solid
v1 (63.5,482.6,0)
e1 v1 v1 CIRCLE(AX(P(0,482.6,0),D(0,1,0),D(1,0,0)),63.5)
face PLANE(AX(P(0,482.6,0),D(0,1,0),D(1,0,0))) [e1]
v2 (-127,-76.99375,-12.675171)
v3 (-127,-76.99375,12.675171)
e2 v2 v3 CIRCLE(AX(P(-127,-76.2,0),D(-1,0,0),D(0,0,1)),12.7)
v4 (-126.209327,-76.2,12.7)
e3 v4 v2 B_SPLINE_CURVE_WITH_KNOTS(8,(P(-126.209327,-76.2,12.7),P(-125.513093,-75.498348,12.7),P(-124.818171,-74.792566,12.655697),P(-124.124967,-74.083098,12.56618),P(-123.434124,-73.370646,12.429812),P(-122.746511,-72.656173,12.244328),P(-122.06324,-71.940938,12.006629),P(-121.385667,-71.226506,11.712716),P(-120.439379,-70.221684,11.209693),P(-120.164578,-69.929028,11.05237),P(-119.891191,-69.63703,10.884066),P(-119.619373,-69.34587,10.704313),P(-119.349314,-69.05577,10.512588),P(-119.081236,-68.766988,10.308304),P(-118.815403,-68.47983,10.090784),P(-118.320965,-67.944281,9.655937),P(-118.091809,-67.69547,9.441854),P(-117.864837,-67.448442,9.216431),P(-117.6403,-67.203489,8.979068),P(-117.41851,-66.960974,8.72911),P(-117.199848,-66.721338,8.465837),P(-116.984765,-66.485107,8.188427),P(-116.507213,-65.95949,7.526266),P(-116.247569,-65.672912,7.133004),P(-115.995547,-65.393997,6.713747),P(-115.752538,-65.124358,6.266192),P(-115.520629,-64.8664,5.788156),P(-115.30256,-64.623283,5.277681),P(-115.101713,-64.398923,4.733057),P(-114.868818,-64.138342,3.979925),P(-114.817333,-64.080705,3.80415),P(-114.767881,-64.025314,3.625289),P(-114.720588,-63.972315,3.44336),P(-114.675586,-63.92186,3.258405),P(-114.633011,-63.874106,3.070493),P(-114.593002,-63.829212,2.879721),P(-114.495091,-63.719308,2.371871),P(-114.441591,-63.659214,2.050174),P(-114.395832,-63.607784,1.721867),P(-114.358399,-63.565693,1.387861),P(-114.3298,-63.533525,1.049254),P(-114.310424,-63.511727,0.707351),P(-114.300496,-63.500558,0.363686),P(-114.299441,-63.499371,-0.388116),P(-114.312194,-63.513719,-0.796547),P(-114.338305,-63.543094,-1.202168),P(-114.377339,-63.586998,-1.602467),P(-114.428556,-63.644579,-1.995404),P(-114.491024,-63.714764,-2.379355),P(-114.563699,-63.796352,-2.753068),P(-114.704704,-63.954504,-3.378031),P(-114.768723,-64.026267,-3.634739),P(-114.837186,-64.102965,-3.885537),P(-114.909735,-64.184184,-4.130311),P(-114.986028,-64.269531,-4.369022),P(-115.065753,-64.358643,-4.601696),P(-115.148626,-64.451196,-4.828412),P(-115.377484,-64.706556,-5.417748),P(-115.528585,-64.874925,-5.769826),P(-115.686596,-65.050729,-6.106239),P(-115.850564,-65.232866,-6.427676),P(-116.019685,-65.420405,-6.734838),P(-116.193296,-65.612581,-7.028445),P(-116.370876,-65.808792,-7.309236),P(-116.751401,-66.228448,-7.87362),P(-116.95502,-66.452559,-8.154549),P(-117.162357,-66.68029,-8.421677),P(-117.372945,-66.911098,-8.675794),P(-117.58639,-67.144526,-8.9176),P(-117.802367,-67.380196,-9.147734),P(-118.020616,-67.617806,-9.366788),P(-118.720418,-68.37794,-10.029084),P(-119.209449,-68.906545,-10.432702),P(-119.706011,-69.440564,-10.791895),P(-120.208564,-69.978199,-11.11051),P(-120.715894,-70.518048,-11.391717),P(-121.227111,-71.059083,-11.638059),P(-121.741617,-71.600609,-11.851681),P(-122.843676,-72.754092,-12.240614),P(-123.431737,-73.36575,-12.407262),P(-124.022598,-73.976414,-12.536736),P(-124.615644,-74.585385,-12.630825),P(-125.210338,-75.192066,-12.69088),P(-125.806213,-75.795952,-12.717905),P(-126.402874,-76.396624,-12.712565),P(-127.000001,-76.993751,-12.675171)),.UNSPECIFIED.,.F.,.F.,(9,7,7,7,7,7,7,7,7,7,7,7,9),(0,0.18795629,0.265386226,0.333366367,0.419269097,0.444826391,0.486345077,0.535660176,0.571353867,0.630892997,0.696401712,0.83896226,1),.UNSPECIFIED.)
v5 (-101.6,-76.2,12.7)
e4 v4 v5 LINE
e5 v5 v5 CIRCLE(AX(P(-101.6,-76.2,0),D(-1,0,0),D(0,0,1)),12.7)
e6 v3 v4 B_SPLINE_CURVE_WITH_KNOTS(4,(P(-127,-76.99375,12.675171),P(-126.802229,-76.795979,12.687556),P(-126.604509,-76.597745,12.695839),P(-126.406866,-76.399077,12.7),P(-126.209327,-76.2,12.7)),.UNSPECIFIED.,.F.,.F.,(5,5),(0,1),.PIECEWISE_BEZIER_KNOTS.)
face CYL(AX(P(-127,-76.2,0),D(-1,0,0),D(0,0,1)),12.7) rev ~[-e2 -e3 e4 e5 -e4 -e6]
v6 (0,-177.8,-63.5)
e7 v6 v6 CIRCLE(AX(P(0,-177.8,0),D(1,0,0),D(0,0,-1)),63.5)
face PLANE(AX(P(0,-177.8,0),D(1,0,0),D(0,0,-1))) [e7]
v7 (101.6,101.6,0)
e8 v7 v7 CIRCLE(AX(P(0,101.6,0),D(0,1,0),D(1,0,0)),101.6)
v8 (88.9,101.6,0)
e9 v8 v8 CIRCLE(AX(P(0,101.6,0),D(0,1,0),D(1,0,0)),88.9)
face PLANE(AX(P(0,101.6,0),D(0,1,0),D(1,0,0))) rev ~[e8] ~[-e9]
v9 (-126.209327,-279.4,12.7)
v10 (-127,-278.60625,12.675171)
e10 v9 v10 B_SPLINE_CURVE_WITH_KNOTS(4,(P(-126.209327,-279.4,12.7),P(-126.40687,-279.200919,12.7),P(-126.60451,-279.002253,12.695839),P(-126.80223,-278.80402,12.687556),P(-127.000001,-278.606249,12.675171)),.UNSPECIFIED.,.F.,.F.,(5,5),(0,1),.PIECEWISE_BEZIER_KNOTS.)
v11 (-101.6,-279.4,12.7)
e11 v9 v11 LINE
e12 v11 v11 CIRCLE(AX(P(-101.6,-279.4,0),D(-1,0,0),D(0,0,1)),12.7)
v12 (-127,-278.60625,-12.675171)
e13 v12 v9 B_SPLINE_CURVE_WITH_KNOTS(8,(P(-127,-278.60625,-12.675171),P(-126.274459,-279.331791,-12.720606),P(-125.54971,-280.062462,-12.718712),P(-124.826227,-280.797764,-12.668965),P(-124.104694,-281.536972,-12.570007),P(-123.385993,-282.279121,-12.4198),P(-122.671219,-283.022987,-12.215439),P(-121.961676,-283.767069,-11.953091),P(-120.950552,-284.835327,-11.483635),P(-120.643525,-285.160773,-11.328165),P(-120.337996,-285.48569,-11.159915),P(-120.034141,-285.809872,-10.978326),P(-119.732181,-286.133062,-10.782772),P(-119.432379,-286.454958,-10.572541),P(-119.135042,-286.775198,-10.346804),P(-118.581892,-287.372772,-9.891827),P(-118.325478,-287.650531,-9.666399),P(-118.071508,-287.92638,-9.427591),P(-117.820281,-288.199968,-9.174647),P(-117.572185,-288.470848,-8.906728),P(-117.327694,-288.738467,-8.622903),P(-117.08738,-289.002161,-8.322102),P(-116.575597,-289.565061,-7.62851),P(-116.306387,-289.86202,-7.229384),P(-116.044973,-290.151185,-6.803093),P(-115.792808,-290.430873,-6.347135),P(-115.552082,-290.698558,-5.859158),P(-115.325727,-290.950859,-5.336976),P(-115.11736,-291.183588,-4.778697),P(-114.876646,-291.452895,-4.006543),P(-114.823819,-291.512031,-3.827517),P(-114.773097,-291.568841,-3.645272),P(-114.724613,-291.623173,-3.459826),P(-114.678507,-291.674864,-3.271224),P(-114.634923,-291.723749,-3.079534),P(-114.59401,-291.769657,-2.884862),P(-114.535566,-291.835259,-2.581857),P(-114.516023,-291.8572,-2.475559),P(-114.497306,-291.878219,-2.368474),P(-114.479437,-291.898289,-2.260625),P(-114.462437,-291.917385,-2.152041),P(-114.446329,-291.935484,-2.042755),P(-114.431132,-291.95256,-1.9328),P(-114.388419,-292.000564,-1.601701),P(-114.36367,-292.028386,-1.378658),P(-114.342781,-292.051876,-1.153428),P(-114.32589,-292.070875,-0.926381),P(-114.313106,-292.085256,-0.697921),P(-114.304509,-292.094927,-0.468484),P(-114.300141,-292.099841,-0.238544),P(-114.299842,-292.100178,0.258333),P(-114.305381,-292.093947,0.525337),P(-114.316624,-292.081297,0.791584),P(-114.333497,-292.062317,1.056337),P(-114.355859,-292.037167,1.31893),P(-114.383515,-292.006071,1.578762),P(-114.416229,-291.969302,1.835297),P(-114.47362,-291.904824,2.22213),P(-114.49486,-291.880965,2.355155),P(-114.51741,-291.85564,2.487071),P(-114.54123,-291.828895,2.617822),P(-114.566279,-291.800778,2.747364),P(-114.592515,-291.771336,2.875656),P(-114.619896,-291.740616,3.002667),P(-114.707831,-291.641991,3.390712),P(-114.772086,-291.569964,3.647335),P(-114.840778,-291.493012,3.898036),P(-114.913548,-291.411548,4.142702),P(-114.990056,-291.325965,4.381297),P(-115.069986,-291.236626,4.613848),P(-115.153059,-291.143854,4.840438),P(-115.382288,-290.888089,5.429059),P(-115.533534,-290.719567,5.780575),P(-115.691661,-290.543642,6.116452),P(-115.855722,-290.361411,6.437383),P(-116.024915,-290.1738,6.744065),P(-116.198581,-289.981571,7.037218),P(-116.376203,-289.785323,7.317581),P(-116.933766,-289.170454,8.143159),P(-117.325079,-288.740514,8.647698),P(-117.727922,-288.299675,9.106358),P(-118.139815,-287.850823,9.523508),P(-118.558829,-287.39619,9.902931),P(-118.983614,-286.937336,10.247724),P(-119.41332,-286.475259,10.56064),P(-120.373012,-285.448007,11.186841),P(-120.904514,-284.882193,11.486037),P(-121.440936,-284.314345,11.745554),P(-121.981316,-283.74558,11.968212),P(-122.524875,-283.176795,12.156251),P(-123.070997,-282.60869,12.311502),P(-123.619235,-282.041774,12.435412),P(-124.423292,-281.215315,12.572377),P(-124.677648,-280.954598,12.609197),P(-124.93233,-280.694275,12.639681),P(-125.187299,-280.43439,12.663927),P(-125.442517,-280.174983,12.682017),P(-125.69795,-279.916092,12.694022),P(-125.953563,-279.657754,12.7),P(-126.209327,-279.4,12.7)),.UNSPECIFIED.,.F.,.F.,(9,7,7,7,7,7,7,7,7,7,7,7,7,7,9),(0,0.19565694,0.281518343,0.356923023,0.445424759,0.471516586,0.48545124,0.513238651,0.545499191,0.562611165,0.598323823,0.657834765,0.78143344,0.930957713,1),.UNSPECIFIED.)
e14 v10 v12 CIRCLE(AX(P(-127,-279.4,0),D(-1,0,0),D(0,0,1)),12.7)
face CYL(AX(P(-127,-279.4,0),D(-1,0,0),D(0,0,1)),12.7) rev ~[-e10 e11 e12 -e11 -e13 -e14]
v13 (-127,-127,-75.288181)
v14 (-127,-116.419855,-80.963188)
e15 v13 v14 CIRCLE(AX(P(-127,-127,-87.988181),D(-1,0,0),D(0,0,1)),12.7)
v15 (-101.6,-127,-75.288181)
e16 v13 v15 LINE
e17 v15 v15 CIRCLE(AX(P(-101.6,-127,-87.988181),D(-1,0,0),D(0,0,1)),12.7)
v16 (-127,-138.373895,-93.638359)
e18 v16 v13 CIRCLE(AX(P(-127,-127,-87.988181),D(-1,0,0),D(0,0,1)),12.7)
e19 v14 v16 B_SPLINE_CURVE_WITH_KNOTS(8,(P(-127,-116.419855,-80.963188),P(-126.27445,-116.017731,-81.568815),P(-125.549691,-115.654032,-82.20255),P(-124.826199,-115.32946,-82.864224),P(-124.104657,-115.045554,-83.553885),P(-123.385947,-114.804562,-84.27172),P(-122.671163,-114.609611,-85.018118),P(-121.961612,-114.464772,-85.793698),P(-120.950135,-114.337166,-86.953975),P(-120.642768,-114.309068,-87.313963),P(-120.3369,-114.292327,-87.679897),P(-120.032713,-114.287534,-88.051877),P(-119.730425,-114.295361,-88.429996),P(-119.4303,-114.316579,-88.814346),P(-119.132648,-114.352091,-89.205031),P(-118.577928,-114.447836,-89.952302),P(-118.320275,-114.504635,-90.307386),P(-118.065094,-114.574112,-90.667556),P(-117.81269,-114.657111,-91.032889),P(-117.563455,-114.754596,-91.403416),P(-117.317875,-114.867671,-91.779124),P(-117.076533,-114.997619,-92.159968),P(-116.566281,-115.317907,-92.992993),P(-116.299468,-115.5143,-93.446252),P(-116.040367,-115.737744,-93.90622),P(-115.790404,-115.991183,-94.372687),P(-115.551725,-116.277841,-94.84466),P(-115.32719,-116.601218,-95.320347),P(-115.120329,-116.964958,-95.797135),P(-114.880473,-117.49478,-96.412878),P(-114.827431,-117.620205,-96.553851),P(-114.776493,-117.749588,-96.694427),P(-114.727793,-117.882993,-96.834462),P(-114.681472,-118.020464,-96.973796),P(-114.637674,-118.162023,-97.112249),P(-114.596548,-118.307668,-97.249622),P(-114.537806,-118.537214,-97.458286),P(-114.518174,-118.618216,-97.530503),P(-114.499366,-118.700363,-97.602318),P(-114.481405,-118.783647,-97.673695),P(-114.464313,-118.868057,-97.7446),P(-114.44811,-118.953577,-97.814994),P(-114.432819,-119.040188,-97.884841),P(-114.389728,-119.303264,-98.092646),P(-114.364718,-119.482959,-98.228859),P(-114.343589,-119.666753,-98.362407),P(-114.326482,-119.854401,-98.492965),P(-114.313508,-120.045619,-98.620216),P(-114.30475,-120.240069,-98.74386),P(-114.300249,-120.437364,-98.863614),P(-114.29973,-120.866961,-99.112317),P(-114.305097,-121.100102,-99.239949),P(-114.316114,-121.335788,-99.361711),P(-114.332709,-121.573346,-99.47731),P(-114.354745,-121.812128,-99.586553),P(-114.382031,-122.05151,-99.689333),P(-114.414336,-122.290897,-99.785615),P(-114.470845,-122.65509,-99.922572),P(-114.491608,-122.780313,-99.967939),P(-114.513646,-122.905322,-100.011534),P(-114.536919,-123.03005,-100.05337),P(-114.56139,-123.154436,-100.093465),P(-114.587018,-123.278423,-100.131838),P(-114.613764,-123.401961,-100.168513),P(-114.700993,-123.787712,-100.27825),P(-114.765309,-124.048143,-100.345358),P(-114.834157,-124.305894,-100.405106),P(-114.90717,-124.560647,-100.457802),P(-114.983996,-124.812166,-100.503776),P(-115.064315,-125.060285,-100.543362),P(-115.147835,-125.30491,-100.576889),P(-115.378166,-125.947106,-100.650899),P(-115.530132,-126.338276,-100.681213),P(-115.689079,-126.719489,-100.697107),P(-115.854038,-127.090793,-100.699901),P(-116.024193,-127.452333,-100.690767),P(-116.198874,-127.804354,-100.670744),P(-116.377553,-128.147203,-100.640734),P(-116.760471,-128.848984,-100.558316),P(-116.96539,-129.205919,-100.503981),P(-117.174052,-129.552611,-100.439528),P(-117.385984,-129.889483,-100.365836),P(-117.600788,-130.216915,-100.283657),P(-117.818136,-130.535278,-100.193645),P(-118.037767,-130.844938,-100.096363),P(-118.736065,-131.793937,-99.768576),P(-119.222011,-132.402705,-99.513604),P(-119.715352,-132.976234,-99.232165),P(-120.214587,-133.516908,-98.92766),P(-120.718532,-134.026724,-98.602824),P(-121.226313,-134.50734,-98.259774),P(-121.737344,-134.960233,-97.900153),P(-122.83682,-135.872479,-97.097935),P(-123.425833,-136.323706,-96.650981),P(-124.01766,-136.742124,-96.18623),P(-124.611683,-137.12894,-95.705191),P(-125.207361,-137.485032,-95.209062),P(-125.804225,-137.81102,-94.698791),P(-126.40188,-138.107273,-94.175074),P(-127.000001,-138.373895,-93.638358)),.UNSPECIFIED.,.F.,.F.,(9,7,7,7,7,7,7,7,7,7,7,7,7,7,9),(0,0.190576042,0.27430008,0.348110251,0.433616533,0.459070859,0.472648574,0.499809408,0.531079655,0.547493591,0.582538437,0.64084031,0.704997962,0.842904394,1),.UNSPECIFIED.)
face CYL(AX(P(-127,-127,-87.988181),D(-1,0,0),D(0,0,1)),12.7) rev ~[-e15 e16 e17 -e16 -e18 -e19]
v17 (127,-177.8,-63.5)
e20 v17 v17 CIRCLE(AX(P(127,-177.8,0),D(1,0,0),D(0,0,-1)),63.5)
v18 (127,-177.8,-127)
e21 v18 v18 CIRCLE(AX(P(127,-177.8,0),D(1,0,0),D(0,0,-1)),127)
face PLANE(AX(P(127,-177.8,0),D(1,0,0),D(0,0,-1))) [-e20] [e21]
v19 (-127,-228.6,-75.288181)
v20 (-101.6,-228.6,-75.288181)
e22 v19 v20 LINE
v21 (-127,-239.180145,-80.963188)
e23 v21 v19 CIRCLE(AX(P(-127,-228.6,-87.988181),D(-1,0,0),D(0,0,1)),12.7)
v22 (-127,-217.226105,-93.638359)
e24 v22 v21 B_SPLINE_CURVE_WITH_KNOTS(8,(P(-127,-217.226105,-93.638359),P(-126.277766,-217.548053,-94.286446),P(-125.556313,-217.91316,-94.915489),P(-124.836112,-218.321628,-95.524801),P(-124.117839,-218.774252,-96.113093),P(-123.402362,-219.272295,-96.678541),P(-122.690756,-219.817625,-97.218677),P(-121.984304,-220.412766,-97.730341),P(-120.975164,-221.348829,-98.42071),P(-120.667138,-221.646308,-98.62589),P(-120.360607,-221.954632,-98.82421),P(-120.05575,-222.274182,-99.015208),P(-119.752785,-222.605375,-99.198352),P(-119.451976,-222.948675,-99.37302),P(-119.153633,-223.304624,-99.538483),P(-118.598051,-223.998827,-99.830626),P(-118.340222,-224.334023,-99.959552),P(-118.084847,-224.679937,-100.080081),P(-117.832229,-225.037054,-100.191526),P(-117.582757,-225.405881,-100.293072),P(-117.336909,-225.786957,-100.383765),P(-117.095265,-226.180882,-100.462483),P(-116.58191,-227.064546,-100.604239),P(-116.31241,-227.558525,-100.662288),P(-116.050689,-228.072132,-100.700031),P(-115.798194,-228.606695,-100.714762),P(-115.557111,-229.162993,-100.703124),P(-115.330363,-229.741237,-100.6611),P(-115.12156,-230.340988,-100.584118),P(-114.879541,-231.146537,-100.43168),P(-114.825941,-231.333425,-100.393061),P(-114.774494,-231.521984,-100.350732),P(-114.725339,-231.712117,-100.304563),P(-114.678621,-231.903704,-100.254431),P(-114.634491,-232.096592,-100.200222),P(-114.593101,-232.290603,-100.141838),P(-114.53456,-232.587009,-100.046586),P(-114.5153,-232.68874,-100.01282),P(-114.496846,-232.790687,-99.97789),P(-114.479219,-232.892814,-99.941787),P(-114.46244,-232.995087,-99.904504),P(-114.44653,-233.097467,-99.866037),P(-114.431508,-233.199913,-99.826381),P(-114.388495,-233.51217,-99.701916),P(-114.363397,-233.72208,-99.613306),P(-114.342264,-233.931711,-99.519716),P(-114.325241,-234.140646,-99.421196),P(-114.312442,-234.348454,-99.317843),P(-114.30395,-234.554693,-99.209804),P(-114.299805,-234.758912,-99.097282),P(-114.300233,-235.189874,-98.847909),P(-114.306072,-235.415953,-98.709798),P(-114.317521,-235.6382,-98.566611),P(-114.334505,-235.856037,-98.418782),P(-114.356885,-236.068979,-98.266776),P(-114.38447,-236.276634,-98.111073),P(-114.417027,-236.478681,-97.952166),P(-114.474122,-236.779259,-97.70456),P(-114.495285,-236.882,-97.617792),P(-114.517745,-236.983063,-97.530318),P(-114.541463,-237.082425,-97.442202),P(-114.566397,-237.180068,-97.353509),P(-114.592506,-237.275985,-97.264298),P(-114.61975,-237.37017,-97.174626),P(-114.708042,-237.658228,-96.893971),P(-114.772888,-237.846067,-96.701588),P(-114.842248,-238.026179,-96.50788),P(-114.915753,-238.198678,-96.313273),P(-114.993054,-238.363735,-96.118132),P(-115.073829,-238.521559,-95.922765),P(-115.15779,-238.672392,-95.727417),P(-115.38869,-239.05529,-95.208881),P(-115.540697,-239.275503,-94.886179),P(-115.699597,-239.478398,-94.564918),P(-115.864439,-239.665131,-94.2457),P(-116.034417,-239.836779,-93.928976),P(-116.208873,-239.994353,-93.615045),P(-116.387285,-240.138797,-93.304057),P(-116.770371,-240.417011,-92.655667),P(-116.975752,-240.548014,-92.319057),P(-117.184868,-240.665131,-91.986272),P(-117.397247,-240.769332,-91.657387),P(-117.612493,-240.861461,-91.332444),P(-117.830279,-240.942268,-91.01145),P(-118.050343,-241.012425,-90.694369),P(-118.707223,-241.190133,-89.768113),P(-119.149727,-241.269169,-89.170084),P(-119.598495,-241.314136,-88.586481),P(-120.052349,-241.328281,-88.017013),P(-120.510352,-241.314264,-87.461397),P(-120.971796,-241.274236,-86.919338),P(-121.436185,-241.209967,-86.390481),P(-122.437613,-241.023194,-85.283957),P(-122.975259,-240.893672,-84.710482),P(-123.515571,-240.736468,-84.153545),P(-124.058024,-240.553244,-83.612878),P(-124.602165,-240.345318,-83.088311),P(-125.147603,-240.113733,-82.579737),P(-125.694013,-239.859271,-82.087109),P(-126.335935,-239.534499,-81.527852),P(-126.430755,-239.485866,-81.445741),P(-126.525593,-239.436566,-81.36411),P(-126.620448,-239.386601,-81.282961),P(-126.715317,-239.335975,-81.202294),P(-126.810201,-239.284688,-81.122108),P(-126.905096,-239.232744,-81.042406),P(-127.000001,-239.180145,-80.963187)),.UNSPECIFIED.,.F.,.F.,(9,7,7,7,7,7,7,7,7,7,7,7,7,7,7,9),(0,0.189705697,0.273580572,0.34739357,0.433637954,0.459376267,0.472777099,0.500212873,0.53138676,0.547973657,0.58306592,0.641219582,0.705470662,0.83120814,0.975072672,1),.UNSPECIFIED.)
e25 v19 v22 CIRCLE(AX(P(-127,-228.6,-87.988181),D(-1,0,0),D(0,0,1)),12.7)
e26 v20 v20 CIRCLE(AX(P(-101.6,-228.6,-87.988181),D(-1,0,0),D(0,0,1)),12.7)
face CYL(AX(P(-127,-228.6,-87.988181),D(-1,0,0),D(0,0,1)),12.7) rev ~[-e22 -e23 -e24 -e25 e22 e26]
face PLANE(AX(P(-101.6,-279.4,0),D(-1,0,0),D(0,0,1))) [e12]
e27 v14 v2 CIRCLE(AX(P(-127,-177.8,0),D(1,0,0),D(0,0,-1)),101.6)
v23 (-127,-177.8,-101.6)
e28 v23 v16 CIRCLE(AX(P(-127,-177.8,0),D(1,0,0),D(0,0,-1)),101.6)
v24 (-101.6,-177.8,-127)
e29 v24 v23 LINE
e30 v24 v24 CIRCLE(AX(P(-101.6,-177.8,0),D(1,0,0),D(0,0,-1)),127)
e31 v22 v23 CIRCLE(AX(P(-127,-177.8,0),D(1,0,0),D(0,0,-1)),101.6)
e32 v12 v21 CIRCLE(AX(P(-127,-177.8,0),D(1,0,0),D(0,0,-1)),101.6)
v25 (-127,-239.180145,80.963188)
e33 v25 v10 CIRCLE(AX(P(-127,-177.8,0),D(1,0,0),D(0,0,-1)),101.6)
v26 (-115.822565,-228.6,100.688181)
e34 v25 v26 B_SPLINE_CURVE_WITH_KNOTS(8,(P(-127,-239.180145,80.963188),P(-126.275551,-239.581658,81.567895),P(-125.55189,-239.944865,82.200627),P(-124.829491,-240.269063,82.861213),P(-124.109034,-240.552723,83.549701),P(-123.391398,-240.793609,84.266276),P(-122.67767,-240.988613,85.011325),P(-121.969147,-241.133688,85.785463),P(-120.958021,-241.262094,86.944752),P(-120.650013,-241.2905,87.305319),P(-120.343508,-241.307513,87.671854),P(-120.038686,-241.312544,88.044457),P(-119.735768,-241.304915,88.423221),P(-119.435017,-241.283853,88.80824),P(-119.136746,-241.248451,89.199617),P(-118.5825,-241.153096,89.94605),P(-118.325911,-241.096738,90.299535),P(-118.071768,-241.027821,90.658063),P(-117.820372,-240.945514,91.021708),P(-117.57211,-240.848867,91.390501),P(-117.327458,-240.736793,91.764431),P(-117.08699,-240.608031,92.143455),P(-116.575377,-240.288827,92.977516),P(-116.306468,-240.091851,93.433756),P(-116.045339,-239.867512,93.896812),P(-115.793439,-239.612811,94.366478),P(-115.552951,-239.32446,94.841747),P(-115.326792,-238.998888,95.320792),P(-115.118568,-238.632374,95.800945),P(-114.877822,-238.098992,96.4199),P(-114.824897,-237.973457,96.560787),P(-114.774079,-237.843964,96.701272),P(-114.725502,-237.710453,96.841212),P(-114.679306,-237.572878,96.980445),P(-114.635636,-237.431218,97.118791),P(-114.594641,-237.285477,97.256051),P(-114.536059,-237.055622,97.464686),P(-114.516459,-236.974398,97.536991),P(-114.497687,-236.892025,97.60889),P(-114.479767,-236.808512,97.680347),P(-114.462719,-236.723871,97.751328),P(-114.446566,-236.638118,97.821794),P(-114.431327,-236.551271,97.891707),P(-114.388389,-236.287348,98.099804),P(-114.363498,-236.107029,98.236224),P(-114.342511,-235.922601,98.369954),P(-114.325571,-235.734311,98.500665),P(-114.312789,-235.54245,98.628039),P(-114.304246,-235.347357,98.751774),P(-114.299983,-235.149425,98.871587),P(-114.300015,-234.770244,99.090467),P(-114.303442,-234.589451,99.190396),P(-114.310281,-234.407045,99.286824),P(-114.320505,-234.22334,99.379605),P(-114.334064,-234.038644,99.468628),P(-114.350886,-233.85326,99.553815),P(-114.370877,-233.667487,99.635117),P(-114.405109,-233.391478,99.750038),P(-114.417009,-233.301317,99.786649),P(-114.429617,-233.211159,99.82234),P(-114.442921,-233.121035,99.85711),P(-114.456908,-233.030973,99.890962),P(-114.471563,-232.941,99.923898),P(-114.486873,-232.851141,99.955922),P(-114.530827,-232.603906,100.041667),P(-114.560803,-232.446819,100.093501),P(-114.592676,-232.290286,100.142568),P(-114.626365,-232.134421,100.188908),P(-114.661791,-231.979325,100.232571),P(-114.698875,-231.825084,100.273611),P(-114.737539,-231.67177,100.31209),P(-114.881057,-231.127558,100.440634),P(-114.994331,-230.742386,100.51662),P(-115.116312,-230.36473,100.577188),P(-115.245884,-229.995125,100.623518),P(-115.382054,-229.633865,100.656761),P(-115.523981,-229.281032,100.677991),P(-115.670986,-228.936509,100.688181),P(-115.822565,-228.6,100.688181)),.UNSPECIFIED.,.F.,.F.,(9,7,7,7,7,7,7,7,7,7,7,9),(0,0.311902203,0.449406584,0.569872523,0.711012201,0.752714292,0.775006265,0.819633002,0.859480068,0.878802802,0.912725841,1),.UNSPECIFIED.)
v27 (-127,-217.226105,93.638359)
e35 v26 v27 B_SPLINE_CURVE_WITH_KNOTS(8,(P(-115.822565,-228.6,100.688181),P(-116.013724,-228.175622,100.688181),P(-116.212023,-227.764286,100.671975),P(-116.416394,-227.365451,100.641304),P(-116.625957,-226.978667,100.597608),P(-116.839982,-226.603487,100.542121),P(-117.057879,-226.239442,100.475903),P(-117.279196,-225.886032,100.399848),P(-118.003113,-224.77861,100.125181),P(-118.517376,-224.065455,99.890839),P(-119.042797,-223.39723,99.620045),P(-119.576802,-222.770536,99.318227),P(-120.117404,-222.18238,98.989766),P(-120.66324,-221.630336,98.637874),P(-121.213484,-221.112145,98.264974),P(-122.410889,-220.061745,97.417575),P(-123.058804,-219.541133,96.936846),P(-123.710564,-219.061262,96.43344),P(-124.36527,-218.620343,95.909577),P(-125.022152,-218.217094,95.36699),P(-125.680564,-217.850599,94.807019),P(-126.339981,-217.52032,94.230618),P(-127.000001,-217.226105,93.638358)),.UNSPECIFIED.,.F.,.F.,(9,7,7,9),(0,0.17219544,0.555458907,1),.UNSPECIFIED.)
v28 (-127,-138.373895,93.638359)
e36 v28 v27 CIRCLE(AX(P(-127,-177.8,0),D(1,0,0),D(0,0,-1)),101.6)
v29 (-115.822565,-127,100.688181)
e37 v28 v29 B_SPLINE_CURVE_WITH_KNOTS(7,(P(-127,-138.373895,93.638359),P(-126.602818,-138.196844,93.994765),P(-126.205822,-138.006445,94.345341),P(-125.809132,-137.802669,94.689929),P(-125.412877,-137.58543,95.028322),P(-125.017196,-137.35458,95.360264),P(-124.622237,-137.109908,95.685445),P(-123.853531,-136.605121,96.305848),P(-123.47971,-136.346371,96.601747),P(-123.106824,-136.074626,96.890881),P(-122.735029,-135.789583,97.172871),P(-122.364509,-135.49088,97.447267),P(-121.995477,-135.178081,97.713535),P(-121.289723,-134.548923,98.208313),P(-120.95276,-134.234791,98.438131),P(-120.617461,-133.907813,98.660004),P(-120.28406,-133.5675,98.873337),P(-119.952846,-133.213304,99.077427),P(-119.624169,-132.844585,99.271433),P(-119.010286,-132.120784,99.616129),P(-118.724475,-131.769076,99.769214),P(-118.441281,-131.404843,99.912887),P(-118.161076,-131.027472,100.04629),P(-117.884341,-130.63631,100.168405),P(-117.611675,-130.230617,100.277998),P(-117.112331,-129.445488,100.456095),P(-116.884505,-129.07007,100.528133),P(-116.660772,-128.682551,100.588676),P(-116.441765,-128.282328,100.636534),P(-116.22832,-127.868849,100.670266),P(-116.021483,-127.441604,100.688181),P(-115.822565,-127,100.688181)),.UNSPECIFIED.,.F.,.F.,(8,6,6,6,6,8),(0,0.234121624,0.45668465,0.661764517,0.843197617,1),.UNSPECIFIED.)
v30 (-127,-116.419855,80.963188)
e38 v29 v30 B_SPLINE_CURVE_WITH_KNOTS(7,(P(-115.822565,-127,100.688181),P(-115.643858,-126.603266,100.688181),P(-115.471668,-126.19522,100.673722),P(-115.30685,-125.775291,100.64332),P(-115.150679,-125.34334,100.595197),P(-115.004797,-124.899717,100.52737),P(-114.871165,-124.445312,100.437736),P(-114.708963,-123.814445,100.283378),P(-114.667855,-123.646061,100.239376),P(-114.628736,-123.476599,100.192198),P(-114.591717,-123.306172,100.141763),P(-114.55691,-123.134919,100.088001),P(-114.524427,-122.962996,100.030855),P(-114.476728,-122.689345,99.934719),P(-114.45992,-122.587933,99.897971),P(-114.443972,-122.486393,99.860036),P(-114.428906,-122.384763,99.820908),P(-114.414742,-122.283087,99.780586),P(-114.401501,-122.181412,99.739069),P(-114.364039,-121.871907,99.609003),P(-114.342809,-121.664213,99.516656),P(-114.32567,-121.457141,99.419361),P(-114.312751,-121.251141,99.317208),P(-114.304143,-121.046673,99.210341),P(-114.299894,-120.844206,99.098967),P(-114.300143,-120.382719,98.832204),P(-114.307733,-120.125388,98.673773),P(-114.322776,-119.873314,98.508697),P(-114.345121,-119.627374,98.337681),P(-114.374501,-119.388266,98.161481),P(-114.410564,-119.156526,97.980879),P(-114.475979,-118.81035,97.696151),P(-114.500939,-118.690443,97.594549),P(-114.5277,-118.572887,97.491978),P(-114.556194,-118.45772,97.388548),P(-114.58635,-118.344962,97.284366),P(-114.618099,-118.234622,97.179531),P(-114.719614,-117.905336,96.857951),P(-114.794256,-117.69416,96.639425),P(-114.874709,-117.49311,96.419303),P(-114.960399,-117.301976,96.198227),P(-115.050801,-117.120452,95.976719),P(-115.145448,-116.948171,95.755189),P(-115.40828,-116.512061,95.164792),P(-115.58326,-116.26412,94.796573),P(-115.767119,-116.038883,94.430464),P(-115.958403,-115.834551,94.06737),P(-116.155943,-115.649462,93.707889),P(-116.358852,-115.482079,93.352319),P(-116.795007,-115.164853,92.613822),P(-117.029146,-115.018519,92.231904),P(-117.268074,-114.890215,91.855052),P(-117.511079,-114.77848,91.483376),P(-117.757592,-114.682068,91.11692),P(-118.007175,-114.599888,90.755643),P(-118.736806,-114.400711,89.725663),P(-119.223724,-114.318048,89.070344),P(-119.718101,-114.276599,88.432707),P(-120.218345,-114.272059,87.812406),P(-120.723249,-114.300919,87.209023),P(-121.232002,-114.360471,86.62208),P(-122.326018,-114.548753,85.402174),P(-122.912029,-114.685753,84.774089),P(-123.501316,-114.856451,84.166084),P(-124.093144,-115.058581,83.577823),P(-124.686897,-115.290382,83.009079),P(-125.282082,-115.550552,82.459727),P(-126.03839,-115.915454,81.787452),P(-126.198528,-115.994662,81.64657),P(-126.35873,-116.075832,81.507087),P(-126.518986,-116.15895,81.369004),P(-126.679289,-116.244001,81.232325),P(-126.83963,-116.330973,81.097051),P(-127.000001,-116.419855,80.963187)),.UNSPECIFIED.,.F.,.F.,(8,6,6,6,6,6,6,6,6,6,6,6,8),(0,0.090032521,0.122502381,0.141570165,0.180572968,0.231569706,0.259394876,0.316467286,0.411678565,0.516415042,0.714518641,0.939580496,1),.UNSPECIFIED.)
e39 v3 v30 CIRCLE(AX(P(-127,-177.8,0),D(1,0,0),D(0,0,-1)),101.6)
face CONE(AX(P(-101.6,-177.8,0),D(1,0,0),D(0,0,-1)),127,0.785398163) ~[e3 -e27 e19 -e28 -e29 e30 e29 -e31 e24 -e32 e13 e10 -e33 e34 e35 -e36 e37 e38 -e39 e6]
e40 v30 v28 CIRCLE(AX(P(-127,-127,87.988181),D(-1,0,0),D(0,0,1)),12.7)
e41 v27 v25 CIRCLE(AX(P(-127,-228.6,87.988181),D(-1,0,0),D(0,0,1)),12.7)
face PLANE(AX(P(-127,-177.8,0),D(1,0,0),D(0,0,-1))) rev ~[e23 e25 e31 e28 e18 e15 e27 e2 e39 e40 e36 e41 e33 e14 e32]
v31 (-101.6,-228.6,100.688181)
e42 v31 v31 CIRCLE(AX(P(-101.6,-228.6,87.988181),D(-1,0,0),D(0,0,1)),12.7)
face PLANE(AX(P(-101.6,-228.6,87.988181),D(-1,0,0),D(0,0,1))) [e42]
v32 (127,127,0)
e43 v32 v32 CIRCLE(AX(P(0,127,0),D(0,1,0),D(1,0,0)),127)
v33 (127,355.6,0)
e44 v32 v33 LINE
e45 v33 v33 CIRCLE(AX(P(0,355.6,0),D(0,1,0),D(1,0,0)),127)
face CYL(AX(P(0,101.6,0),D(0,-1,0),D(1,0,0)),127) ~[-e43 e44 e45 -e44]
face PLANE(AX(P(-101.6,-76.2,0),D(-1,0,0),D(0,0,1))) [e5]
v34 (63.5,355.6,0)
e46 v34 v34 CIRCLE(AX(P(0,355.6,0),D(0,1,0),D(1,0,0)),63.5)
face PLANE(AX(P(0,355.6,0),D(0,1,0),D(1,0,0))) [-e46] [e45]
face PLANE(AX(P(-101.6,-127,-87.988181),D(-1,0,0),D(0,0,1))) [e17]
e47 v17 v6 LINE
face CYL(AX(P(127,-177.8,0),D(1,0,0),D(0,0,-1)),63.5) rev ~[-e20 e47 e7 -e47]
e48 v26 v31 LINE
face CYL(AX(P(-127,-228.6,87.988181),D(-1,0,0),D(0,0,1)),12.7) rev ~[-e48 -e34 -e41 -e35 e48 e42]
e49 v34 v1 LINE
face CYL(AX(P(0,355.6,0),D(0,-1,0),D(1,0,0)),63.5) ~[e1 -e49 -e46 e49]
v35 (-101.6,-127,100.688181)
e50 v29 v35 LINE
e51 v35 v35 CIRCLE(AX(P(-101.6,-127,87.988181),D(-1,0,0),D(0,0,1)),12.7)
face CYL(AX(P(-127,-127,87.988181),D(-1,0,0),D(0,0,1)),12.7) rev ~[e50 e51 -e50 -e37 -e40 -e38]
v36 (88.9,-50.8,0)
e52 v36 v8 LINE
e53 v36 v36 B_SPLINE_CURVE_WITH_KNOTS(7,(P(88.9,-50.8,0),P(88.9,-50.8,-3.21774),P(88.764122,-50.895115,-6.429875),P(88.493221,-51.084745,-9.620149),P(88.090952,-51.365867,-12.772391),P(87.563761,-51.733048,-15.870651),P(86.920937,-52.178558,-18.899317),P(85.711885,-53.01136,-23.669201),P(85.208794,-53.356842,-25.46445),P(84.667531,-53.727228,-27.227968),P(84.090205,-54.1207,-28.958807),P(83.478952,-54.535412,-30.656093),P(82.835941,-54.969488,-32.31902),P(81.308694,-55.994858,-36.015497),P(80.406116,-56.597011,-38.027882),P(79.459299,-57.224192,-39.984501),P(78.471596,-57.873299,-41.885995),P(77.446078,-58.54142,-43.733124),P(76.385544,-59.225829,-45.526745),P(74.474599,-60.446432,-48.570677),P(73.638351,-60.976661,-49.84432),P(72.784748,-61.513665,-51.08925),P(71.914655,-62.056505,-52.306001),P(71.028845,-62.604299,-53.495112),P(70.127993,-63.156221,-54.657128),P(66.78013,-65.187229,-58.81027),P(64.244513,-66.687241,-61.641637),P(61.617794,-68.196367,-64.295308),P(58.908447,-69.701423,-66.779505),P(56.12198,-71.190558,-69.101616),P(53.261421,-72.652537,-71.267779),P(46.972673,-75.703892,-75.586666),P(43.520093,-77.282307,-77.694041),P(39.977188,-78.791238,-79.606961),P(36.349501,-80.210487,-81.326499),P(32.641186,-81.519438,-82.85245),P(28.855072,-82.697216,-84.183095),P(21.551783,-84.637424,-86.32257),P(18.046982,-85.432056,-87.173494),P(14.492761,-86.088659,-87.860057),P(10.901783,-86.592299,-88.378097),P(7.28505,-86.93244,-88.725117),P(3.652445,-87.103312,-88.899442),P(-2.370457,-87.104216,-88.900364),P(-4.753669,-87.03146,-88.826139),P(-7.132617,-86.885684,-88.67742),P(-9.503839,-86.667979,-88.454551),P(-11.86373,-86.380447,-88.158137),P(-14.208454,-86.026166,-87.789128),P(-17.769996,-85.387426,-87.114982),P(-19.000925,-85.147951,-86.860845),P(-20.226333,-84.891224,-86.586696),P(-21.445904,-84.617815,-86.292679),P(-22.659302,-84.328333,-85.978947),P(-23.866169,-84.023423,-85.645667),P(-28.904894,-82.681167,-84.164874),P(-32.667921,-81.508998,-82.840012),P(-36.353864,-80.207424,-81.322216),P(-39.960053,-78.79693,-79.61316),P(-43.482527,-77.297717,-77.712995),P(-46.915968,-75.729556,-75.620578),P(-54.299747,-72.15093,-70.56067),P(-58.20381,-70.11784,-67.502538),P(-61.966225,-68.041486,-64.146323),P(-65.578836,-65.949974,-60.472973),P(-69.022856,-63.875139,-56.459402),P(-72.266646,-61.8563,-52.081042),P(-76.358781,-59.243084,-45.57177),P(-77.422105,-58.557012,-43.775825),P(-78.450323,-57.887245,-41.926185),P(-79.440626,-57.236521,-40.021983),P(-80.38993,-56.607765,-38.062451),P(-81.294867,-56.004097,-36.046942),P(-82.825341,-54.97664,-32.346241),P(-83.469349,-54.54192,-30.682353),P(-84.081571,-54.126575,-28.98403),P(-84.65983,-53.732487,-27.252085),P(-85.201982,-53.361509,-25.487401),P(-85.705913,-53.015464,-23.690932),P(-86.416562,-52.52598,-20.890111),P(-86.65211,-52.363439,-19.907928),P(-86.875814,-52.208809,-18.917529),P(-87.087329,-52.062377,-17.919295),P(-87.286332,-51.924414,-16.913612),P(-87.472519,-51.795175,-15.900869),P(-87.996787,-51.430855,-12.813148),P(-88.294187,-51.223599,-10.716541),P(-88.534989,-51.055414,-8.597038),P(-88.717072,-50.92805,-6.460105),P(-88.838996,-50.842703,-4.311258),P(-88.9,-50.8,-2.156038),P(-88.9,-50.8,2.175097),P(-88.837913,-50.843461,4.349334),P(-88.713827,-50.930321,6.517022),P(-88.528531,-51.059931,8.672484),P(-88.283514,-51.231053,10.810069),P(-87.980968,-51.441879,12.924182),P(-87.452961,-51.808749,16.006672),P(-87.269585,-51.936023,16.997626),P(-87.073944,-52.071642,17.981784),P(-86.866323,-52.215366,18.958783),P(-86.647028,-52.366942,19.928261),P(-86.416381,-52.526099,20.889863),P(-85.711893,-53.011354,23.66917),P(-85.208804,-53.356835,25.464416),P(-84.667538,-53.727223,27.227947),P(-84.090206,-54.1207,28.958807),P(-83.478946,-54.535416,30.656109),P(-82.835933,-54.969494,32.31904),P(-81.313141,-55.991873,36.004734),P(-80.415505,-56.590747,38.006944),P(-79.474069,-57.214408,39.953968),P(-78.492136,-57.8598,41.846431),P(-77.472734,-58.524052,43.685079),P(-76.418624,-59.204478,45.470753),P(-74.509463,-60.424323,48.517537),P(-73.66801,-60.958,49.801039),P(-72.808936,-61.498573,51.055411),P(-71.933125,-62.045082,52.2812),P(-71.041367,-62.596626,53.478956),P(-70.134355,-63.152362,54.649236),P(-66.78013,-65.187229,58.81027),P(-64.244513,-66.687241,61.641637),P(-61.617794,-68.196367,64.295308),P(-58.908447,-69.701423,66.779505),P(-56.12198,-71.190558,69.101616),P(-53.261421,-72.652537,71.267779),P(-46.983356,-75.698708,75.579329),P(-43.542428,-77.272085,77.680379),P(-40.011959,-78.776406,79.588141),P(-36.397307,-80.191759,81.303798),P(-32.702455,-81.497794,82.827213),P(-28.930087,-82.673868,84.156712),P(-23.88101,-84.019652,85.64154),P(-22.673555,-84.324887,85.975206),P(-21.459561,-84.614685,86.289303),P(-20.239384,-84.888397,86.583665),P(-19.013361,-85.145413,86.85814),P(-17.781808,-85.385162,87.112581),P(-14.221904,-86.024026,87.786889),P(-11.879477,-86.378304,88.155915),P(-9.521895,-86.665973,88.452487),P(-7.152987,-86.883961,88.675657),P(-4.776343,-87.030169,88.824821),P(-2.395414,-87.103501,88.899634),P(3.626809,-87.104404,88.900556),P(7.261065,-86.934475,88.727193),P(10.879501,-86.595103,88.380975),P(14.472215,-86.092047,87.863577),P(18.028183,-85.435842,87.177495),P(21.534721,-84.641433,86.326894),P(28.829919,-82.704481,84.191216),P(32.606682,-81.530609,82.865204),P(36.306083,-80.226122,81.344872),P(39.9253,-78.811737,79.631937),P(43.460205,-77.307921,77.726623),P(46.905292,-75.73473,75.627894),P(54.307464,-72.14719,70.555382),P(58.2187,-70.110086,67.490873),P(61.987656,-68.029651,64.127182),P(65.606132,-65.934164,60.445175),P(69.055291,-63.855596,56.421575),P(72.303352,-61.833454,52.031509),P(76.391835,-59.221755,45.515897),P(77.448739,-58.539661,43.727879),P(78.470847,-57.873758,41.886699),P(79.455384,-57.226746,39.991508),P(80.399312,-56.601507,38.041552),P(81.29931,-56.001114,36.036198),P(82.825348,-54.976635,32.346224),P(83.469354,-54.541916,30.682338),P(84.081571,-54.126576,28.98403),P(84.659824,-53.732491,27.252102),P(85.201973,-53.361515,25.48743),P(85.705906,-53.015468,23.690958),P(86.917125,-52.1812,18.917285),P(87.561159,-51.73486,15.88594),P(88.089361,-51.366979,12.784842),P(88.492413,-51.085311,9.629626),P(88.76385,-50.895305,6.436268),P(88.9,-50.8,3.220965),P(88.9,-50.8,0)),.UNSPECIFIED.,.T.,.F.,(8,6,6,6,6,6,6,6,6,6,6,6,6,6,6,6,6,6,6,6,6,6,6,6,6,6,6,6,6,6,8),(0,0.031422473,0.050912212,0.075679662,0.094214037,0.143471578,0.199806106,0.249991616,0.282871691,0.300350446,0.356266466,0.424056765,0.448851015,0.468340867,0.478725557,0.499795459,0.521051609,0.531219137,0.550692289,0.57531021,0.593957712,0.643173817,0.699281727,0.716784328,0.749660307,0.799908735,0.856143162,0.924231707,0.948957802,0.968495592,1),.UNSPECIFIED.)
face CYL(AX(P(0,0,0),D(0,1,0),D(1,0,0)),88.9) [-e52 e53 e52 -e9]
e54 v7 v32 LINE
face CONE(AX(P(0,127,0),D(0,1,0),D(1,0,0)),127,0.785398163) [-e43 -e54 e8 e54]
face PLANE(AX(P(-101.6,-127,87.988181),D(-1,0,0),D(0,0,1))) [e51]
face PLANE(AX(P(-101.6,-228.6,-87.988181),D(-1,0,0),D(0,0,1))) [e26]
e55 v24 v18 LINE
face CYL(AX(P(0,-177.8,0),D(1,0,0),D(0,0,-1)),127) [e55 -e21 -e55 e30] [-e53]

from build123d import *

# Parameters (mm, degrees)
SKETCH1_R           = 88.9
BOSS_EXTRUDE1_DEPTH = 101.6
SKETCH4_R           = 127
BOSS_EXTRUDE2_DEPTH = 127
SKETCH6_R           = 127
BOSS_EXTRUDE4_DEPTH = 254
SKETCH5_R           = 63.5
CUT_EXTRUDE1_DEPTH  = 127
SKETCH7_R           = 63.5
BOSS_EXTRUDE5_DEPTH = 127
CHAMFER1_SIZE       = 25.4
SKETCH8_R           = 12.7
CUT_EXTRUDE2_DEPTH  = 25.4
CHAMFER2_SIZE       = 25.4


with BuildPart() as part:
    # Sketch1 → Boss-Extrude1 (new body, symmetric)
    with BuildSketch(Plane(origin=(0, 0, 0), x_dir=(1, 0, 0), z_dir=(0, 1, 0))):
        Circle(SKETCH1_R)
    extrude(amount=BOSS_EXTRUDE1_DEPTH, both=True)

    # Sketch4 → Boss-Extrude2 (add, symmetric)
    with BuildSketch(Plane(origin=(0, 0, 0), x_dir=(0, 0, -1), z_dir=(1, 0, 0))):
        with Locations((0, -177.8)):
            Circle(SKETCH4_R)
    extrude(amount=BOSS_EXTRUDE2_DEPTH, both=True)

    # Sketch6 → Boss-Extrude4 (add)
    with BuildSketch(Plane(origin=(0, 101.6, 0), x_dir=(1, 0, 0), z_dir=(0, 1, 0))):
        Circle(SKETCH6_R)
    extrude(amount=BOSS_EXTRUDE4_DEPTH)

    # Sketch5 → Cut-Extrude1 (cut)
    with BuildSketch(Plane(origin=(127, 0, 0), x_dir=(0, 0, -1), z_dir=(1, 0, 0))):
        with Locations((0, -177.8)):
            Circle(SKETCH5_R)
    extrude(amount=-CUT_EXTRUDE1_DEPTH, mode=Mode.SUBTRACT)

    # Sketch7 → Boss-Extrude5 (add)
    with BuildSketch(Plane(origin=(0, 355.6, 0), x_dir=(1, 0, 0), z_dir=(0, 1, 0))):
        Circle(SKETCH7_R)
    extrude(amount=BOSS_EXTRUDE5_DEPTH)

    # Chamfer1
    chamfer1_edges = [part.edges().sort_by_distance(p)[0] for p in [
        (-127, -177.8, 127),
    ]]
    chamfer(chamfer1_edges, length=CHAMFER1_SIZE)

    # Sketch8 → Cut-Extrude2 (cut)
    with BuildSketch(Plane.ZY.offset(127)):
        with Locations((0, -76.2)):
            Circle(SKETCH8_R)
        with Locations((87.988181025, -127)):
            Circle(SKETCH8_R)
        with Locations((87.988181025, -228.6)):
            Circle(SKETCH8_R)
        with Locations((0, -279.4)):
            Circle(SKETCH8_R)
        with Locations((-87.988181024, -228.6)):
            Circle(SKETCH8_R)
        with Locations((-87.988181024, -127)):
            Circle(SKETCH8_R)
    extrude(amount=-CUT_EXTRUDE2_DEPTH, mode=Mode.SUBTRACT)

    # Chamfer2
    chamfer2_edges = [part.edges().sort_by_distance(p)[0] for p in [
        (-127, 101.6, 0),
    ]]
    chamfer(chamfer2_edges, length=CHAMFER2_SIZE)


solid = part.part
